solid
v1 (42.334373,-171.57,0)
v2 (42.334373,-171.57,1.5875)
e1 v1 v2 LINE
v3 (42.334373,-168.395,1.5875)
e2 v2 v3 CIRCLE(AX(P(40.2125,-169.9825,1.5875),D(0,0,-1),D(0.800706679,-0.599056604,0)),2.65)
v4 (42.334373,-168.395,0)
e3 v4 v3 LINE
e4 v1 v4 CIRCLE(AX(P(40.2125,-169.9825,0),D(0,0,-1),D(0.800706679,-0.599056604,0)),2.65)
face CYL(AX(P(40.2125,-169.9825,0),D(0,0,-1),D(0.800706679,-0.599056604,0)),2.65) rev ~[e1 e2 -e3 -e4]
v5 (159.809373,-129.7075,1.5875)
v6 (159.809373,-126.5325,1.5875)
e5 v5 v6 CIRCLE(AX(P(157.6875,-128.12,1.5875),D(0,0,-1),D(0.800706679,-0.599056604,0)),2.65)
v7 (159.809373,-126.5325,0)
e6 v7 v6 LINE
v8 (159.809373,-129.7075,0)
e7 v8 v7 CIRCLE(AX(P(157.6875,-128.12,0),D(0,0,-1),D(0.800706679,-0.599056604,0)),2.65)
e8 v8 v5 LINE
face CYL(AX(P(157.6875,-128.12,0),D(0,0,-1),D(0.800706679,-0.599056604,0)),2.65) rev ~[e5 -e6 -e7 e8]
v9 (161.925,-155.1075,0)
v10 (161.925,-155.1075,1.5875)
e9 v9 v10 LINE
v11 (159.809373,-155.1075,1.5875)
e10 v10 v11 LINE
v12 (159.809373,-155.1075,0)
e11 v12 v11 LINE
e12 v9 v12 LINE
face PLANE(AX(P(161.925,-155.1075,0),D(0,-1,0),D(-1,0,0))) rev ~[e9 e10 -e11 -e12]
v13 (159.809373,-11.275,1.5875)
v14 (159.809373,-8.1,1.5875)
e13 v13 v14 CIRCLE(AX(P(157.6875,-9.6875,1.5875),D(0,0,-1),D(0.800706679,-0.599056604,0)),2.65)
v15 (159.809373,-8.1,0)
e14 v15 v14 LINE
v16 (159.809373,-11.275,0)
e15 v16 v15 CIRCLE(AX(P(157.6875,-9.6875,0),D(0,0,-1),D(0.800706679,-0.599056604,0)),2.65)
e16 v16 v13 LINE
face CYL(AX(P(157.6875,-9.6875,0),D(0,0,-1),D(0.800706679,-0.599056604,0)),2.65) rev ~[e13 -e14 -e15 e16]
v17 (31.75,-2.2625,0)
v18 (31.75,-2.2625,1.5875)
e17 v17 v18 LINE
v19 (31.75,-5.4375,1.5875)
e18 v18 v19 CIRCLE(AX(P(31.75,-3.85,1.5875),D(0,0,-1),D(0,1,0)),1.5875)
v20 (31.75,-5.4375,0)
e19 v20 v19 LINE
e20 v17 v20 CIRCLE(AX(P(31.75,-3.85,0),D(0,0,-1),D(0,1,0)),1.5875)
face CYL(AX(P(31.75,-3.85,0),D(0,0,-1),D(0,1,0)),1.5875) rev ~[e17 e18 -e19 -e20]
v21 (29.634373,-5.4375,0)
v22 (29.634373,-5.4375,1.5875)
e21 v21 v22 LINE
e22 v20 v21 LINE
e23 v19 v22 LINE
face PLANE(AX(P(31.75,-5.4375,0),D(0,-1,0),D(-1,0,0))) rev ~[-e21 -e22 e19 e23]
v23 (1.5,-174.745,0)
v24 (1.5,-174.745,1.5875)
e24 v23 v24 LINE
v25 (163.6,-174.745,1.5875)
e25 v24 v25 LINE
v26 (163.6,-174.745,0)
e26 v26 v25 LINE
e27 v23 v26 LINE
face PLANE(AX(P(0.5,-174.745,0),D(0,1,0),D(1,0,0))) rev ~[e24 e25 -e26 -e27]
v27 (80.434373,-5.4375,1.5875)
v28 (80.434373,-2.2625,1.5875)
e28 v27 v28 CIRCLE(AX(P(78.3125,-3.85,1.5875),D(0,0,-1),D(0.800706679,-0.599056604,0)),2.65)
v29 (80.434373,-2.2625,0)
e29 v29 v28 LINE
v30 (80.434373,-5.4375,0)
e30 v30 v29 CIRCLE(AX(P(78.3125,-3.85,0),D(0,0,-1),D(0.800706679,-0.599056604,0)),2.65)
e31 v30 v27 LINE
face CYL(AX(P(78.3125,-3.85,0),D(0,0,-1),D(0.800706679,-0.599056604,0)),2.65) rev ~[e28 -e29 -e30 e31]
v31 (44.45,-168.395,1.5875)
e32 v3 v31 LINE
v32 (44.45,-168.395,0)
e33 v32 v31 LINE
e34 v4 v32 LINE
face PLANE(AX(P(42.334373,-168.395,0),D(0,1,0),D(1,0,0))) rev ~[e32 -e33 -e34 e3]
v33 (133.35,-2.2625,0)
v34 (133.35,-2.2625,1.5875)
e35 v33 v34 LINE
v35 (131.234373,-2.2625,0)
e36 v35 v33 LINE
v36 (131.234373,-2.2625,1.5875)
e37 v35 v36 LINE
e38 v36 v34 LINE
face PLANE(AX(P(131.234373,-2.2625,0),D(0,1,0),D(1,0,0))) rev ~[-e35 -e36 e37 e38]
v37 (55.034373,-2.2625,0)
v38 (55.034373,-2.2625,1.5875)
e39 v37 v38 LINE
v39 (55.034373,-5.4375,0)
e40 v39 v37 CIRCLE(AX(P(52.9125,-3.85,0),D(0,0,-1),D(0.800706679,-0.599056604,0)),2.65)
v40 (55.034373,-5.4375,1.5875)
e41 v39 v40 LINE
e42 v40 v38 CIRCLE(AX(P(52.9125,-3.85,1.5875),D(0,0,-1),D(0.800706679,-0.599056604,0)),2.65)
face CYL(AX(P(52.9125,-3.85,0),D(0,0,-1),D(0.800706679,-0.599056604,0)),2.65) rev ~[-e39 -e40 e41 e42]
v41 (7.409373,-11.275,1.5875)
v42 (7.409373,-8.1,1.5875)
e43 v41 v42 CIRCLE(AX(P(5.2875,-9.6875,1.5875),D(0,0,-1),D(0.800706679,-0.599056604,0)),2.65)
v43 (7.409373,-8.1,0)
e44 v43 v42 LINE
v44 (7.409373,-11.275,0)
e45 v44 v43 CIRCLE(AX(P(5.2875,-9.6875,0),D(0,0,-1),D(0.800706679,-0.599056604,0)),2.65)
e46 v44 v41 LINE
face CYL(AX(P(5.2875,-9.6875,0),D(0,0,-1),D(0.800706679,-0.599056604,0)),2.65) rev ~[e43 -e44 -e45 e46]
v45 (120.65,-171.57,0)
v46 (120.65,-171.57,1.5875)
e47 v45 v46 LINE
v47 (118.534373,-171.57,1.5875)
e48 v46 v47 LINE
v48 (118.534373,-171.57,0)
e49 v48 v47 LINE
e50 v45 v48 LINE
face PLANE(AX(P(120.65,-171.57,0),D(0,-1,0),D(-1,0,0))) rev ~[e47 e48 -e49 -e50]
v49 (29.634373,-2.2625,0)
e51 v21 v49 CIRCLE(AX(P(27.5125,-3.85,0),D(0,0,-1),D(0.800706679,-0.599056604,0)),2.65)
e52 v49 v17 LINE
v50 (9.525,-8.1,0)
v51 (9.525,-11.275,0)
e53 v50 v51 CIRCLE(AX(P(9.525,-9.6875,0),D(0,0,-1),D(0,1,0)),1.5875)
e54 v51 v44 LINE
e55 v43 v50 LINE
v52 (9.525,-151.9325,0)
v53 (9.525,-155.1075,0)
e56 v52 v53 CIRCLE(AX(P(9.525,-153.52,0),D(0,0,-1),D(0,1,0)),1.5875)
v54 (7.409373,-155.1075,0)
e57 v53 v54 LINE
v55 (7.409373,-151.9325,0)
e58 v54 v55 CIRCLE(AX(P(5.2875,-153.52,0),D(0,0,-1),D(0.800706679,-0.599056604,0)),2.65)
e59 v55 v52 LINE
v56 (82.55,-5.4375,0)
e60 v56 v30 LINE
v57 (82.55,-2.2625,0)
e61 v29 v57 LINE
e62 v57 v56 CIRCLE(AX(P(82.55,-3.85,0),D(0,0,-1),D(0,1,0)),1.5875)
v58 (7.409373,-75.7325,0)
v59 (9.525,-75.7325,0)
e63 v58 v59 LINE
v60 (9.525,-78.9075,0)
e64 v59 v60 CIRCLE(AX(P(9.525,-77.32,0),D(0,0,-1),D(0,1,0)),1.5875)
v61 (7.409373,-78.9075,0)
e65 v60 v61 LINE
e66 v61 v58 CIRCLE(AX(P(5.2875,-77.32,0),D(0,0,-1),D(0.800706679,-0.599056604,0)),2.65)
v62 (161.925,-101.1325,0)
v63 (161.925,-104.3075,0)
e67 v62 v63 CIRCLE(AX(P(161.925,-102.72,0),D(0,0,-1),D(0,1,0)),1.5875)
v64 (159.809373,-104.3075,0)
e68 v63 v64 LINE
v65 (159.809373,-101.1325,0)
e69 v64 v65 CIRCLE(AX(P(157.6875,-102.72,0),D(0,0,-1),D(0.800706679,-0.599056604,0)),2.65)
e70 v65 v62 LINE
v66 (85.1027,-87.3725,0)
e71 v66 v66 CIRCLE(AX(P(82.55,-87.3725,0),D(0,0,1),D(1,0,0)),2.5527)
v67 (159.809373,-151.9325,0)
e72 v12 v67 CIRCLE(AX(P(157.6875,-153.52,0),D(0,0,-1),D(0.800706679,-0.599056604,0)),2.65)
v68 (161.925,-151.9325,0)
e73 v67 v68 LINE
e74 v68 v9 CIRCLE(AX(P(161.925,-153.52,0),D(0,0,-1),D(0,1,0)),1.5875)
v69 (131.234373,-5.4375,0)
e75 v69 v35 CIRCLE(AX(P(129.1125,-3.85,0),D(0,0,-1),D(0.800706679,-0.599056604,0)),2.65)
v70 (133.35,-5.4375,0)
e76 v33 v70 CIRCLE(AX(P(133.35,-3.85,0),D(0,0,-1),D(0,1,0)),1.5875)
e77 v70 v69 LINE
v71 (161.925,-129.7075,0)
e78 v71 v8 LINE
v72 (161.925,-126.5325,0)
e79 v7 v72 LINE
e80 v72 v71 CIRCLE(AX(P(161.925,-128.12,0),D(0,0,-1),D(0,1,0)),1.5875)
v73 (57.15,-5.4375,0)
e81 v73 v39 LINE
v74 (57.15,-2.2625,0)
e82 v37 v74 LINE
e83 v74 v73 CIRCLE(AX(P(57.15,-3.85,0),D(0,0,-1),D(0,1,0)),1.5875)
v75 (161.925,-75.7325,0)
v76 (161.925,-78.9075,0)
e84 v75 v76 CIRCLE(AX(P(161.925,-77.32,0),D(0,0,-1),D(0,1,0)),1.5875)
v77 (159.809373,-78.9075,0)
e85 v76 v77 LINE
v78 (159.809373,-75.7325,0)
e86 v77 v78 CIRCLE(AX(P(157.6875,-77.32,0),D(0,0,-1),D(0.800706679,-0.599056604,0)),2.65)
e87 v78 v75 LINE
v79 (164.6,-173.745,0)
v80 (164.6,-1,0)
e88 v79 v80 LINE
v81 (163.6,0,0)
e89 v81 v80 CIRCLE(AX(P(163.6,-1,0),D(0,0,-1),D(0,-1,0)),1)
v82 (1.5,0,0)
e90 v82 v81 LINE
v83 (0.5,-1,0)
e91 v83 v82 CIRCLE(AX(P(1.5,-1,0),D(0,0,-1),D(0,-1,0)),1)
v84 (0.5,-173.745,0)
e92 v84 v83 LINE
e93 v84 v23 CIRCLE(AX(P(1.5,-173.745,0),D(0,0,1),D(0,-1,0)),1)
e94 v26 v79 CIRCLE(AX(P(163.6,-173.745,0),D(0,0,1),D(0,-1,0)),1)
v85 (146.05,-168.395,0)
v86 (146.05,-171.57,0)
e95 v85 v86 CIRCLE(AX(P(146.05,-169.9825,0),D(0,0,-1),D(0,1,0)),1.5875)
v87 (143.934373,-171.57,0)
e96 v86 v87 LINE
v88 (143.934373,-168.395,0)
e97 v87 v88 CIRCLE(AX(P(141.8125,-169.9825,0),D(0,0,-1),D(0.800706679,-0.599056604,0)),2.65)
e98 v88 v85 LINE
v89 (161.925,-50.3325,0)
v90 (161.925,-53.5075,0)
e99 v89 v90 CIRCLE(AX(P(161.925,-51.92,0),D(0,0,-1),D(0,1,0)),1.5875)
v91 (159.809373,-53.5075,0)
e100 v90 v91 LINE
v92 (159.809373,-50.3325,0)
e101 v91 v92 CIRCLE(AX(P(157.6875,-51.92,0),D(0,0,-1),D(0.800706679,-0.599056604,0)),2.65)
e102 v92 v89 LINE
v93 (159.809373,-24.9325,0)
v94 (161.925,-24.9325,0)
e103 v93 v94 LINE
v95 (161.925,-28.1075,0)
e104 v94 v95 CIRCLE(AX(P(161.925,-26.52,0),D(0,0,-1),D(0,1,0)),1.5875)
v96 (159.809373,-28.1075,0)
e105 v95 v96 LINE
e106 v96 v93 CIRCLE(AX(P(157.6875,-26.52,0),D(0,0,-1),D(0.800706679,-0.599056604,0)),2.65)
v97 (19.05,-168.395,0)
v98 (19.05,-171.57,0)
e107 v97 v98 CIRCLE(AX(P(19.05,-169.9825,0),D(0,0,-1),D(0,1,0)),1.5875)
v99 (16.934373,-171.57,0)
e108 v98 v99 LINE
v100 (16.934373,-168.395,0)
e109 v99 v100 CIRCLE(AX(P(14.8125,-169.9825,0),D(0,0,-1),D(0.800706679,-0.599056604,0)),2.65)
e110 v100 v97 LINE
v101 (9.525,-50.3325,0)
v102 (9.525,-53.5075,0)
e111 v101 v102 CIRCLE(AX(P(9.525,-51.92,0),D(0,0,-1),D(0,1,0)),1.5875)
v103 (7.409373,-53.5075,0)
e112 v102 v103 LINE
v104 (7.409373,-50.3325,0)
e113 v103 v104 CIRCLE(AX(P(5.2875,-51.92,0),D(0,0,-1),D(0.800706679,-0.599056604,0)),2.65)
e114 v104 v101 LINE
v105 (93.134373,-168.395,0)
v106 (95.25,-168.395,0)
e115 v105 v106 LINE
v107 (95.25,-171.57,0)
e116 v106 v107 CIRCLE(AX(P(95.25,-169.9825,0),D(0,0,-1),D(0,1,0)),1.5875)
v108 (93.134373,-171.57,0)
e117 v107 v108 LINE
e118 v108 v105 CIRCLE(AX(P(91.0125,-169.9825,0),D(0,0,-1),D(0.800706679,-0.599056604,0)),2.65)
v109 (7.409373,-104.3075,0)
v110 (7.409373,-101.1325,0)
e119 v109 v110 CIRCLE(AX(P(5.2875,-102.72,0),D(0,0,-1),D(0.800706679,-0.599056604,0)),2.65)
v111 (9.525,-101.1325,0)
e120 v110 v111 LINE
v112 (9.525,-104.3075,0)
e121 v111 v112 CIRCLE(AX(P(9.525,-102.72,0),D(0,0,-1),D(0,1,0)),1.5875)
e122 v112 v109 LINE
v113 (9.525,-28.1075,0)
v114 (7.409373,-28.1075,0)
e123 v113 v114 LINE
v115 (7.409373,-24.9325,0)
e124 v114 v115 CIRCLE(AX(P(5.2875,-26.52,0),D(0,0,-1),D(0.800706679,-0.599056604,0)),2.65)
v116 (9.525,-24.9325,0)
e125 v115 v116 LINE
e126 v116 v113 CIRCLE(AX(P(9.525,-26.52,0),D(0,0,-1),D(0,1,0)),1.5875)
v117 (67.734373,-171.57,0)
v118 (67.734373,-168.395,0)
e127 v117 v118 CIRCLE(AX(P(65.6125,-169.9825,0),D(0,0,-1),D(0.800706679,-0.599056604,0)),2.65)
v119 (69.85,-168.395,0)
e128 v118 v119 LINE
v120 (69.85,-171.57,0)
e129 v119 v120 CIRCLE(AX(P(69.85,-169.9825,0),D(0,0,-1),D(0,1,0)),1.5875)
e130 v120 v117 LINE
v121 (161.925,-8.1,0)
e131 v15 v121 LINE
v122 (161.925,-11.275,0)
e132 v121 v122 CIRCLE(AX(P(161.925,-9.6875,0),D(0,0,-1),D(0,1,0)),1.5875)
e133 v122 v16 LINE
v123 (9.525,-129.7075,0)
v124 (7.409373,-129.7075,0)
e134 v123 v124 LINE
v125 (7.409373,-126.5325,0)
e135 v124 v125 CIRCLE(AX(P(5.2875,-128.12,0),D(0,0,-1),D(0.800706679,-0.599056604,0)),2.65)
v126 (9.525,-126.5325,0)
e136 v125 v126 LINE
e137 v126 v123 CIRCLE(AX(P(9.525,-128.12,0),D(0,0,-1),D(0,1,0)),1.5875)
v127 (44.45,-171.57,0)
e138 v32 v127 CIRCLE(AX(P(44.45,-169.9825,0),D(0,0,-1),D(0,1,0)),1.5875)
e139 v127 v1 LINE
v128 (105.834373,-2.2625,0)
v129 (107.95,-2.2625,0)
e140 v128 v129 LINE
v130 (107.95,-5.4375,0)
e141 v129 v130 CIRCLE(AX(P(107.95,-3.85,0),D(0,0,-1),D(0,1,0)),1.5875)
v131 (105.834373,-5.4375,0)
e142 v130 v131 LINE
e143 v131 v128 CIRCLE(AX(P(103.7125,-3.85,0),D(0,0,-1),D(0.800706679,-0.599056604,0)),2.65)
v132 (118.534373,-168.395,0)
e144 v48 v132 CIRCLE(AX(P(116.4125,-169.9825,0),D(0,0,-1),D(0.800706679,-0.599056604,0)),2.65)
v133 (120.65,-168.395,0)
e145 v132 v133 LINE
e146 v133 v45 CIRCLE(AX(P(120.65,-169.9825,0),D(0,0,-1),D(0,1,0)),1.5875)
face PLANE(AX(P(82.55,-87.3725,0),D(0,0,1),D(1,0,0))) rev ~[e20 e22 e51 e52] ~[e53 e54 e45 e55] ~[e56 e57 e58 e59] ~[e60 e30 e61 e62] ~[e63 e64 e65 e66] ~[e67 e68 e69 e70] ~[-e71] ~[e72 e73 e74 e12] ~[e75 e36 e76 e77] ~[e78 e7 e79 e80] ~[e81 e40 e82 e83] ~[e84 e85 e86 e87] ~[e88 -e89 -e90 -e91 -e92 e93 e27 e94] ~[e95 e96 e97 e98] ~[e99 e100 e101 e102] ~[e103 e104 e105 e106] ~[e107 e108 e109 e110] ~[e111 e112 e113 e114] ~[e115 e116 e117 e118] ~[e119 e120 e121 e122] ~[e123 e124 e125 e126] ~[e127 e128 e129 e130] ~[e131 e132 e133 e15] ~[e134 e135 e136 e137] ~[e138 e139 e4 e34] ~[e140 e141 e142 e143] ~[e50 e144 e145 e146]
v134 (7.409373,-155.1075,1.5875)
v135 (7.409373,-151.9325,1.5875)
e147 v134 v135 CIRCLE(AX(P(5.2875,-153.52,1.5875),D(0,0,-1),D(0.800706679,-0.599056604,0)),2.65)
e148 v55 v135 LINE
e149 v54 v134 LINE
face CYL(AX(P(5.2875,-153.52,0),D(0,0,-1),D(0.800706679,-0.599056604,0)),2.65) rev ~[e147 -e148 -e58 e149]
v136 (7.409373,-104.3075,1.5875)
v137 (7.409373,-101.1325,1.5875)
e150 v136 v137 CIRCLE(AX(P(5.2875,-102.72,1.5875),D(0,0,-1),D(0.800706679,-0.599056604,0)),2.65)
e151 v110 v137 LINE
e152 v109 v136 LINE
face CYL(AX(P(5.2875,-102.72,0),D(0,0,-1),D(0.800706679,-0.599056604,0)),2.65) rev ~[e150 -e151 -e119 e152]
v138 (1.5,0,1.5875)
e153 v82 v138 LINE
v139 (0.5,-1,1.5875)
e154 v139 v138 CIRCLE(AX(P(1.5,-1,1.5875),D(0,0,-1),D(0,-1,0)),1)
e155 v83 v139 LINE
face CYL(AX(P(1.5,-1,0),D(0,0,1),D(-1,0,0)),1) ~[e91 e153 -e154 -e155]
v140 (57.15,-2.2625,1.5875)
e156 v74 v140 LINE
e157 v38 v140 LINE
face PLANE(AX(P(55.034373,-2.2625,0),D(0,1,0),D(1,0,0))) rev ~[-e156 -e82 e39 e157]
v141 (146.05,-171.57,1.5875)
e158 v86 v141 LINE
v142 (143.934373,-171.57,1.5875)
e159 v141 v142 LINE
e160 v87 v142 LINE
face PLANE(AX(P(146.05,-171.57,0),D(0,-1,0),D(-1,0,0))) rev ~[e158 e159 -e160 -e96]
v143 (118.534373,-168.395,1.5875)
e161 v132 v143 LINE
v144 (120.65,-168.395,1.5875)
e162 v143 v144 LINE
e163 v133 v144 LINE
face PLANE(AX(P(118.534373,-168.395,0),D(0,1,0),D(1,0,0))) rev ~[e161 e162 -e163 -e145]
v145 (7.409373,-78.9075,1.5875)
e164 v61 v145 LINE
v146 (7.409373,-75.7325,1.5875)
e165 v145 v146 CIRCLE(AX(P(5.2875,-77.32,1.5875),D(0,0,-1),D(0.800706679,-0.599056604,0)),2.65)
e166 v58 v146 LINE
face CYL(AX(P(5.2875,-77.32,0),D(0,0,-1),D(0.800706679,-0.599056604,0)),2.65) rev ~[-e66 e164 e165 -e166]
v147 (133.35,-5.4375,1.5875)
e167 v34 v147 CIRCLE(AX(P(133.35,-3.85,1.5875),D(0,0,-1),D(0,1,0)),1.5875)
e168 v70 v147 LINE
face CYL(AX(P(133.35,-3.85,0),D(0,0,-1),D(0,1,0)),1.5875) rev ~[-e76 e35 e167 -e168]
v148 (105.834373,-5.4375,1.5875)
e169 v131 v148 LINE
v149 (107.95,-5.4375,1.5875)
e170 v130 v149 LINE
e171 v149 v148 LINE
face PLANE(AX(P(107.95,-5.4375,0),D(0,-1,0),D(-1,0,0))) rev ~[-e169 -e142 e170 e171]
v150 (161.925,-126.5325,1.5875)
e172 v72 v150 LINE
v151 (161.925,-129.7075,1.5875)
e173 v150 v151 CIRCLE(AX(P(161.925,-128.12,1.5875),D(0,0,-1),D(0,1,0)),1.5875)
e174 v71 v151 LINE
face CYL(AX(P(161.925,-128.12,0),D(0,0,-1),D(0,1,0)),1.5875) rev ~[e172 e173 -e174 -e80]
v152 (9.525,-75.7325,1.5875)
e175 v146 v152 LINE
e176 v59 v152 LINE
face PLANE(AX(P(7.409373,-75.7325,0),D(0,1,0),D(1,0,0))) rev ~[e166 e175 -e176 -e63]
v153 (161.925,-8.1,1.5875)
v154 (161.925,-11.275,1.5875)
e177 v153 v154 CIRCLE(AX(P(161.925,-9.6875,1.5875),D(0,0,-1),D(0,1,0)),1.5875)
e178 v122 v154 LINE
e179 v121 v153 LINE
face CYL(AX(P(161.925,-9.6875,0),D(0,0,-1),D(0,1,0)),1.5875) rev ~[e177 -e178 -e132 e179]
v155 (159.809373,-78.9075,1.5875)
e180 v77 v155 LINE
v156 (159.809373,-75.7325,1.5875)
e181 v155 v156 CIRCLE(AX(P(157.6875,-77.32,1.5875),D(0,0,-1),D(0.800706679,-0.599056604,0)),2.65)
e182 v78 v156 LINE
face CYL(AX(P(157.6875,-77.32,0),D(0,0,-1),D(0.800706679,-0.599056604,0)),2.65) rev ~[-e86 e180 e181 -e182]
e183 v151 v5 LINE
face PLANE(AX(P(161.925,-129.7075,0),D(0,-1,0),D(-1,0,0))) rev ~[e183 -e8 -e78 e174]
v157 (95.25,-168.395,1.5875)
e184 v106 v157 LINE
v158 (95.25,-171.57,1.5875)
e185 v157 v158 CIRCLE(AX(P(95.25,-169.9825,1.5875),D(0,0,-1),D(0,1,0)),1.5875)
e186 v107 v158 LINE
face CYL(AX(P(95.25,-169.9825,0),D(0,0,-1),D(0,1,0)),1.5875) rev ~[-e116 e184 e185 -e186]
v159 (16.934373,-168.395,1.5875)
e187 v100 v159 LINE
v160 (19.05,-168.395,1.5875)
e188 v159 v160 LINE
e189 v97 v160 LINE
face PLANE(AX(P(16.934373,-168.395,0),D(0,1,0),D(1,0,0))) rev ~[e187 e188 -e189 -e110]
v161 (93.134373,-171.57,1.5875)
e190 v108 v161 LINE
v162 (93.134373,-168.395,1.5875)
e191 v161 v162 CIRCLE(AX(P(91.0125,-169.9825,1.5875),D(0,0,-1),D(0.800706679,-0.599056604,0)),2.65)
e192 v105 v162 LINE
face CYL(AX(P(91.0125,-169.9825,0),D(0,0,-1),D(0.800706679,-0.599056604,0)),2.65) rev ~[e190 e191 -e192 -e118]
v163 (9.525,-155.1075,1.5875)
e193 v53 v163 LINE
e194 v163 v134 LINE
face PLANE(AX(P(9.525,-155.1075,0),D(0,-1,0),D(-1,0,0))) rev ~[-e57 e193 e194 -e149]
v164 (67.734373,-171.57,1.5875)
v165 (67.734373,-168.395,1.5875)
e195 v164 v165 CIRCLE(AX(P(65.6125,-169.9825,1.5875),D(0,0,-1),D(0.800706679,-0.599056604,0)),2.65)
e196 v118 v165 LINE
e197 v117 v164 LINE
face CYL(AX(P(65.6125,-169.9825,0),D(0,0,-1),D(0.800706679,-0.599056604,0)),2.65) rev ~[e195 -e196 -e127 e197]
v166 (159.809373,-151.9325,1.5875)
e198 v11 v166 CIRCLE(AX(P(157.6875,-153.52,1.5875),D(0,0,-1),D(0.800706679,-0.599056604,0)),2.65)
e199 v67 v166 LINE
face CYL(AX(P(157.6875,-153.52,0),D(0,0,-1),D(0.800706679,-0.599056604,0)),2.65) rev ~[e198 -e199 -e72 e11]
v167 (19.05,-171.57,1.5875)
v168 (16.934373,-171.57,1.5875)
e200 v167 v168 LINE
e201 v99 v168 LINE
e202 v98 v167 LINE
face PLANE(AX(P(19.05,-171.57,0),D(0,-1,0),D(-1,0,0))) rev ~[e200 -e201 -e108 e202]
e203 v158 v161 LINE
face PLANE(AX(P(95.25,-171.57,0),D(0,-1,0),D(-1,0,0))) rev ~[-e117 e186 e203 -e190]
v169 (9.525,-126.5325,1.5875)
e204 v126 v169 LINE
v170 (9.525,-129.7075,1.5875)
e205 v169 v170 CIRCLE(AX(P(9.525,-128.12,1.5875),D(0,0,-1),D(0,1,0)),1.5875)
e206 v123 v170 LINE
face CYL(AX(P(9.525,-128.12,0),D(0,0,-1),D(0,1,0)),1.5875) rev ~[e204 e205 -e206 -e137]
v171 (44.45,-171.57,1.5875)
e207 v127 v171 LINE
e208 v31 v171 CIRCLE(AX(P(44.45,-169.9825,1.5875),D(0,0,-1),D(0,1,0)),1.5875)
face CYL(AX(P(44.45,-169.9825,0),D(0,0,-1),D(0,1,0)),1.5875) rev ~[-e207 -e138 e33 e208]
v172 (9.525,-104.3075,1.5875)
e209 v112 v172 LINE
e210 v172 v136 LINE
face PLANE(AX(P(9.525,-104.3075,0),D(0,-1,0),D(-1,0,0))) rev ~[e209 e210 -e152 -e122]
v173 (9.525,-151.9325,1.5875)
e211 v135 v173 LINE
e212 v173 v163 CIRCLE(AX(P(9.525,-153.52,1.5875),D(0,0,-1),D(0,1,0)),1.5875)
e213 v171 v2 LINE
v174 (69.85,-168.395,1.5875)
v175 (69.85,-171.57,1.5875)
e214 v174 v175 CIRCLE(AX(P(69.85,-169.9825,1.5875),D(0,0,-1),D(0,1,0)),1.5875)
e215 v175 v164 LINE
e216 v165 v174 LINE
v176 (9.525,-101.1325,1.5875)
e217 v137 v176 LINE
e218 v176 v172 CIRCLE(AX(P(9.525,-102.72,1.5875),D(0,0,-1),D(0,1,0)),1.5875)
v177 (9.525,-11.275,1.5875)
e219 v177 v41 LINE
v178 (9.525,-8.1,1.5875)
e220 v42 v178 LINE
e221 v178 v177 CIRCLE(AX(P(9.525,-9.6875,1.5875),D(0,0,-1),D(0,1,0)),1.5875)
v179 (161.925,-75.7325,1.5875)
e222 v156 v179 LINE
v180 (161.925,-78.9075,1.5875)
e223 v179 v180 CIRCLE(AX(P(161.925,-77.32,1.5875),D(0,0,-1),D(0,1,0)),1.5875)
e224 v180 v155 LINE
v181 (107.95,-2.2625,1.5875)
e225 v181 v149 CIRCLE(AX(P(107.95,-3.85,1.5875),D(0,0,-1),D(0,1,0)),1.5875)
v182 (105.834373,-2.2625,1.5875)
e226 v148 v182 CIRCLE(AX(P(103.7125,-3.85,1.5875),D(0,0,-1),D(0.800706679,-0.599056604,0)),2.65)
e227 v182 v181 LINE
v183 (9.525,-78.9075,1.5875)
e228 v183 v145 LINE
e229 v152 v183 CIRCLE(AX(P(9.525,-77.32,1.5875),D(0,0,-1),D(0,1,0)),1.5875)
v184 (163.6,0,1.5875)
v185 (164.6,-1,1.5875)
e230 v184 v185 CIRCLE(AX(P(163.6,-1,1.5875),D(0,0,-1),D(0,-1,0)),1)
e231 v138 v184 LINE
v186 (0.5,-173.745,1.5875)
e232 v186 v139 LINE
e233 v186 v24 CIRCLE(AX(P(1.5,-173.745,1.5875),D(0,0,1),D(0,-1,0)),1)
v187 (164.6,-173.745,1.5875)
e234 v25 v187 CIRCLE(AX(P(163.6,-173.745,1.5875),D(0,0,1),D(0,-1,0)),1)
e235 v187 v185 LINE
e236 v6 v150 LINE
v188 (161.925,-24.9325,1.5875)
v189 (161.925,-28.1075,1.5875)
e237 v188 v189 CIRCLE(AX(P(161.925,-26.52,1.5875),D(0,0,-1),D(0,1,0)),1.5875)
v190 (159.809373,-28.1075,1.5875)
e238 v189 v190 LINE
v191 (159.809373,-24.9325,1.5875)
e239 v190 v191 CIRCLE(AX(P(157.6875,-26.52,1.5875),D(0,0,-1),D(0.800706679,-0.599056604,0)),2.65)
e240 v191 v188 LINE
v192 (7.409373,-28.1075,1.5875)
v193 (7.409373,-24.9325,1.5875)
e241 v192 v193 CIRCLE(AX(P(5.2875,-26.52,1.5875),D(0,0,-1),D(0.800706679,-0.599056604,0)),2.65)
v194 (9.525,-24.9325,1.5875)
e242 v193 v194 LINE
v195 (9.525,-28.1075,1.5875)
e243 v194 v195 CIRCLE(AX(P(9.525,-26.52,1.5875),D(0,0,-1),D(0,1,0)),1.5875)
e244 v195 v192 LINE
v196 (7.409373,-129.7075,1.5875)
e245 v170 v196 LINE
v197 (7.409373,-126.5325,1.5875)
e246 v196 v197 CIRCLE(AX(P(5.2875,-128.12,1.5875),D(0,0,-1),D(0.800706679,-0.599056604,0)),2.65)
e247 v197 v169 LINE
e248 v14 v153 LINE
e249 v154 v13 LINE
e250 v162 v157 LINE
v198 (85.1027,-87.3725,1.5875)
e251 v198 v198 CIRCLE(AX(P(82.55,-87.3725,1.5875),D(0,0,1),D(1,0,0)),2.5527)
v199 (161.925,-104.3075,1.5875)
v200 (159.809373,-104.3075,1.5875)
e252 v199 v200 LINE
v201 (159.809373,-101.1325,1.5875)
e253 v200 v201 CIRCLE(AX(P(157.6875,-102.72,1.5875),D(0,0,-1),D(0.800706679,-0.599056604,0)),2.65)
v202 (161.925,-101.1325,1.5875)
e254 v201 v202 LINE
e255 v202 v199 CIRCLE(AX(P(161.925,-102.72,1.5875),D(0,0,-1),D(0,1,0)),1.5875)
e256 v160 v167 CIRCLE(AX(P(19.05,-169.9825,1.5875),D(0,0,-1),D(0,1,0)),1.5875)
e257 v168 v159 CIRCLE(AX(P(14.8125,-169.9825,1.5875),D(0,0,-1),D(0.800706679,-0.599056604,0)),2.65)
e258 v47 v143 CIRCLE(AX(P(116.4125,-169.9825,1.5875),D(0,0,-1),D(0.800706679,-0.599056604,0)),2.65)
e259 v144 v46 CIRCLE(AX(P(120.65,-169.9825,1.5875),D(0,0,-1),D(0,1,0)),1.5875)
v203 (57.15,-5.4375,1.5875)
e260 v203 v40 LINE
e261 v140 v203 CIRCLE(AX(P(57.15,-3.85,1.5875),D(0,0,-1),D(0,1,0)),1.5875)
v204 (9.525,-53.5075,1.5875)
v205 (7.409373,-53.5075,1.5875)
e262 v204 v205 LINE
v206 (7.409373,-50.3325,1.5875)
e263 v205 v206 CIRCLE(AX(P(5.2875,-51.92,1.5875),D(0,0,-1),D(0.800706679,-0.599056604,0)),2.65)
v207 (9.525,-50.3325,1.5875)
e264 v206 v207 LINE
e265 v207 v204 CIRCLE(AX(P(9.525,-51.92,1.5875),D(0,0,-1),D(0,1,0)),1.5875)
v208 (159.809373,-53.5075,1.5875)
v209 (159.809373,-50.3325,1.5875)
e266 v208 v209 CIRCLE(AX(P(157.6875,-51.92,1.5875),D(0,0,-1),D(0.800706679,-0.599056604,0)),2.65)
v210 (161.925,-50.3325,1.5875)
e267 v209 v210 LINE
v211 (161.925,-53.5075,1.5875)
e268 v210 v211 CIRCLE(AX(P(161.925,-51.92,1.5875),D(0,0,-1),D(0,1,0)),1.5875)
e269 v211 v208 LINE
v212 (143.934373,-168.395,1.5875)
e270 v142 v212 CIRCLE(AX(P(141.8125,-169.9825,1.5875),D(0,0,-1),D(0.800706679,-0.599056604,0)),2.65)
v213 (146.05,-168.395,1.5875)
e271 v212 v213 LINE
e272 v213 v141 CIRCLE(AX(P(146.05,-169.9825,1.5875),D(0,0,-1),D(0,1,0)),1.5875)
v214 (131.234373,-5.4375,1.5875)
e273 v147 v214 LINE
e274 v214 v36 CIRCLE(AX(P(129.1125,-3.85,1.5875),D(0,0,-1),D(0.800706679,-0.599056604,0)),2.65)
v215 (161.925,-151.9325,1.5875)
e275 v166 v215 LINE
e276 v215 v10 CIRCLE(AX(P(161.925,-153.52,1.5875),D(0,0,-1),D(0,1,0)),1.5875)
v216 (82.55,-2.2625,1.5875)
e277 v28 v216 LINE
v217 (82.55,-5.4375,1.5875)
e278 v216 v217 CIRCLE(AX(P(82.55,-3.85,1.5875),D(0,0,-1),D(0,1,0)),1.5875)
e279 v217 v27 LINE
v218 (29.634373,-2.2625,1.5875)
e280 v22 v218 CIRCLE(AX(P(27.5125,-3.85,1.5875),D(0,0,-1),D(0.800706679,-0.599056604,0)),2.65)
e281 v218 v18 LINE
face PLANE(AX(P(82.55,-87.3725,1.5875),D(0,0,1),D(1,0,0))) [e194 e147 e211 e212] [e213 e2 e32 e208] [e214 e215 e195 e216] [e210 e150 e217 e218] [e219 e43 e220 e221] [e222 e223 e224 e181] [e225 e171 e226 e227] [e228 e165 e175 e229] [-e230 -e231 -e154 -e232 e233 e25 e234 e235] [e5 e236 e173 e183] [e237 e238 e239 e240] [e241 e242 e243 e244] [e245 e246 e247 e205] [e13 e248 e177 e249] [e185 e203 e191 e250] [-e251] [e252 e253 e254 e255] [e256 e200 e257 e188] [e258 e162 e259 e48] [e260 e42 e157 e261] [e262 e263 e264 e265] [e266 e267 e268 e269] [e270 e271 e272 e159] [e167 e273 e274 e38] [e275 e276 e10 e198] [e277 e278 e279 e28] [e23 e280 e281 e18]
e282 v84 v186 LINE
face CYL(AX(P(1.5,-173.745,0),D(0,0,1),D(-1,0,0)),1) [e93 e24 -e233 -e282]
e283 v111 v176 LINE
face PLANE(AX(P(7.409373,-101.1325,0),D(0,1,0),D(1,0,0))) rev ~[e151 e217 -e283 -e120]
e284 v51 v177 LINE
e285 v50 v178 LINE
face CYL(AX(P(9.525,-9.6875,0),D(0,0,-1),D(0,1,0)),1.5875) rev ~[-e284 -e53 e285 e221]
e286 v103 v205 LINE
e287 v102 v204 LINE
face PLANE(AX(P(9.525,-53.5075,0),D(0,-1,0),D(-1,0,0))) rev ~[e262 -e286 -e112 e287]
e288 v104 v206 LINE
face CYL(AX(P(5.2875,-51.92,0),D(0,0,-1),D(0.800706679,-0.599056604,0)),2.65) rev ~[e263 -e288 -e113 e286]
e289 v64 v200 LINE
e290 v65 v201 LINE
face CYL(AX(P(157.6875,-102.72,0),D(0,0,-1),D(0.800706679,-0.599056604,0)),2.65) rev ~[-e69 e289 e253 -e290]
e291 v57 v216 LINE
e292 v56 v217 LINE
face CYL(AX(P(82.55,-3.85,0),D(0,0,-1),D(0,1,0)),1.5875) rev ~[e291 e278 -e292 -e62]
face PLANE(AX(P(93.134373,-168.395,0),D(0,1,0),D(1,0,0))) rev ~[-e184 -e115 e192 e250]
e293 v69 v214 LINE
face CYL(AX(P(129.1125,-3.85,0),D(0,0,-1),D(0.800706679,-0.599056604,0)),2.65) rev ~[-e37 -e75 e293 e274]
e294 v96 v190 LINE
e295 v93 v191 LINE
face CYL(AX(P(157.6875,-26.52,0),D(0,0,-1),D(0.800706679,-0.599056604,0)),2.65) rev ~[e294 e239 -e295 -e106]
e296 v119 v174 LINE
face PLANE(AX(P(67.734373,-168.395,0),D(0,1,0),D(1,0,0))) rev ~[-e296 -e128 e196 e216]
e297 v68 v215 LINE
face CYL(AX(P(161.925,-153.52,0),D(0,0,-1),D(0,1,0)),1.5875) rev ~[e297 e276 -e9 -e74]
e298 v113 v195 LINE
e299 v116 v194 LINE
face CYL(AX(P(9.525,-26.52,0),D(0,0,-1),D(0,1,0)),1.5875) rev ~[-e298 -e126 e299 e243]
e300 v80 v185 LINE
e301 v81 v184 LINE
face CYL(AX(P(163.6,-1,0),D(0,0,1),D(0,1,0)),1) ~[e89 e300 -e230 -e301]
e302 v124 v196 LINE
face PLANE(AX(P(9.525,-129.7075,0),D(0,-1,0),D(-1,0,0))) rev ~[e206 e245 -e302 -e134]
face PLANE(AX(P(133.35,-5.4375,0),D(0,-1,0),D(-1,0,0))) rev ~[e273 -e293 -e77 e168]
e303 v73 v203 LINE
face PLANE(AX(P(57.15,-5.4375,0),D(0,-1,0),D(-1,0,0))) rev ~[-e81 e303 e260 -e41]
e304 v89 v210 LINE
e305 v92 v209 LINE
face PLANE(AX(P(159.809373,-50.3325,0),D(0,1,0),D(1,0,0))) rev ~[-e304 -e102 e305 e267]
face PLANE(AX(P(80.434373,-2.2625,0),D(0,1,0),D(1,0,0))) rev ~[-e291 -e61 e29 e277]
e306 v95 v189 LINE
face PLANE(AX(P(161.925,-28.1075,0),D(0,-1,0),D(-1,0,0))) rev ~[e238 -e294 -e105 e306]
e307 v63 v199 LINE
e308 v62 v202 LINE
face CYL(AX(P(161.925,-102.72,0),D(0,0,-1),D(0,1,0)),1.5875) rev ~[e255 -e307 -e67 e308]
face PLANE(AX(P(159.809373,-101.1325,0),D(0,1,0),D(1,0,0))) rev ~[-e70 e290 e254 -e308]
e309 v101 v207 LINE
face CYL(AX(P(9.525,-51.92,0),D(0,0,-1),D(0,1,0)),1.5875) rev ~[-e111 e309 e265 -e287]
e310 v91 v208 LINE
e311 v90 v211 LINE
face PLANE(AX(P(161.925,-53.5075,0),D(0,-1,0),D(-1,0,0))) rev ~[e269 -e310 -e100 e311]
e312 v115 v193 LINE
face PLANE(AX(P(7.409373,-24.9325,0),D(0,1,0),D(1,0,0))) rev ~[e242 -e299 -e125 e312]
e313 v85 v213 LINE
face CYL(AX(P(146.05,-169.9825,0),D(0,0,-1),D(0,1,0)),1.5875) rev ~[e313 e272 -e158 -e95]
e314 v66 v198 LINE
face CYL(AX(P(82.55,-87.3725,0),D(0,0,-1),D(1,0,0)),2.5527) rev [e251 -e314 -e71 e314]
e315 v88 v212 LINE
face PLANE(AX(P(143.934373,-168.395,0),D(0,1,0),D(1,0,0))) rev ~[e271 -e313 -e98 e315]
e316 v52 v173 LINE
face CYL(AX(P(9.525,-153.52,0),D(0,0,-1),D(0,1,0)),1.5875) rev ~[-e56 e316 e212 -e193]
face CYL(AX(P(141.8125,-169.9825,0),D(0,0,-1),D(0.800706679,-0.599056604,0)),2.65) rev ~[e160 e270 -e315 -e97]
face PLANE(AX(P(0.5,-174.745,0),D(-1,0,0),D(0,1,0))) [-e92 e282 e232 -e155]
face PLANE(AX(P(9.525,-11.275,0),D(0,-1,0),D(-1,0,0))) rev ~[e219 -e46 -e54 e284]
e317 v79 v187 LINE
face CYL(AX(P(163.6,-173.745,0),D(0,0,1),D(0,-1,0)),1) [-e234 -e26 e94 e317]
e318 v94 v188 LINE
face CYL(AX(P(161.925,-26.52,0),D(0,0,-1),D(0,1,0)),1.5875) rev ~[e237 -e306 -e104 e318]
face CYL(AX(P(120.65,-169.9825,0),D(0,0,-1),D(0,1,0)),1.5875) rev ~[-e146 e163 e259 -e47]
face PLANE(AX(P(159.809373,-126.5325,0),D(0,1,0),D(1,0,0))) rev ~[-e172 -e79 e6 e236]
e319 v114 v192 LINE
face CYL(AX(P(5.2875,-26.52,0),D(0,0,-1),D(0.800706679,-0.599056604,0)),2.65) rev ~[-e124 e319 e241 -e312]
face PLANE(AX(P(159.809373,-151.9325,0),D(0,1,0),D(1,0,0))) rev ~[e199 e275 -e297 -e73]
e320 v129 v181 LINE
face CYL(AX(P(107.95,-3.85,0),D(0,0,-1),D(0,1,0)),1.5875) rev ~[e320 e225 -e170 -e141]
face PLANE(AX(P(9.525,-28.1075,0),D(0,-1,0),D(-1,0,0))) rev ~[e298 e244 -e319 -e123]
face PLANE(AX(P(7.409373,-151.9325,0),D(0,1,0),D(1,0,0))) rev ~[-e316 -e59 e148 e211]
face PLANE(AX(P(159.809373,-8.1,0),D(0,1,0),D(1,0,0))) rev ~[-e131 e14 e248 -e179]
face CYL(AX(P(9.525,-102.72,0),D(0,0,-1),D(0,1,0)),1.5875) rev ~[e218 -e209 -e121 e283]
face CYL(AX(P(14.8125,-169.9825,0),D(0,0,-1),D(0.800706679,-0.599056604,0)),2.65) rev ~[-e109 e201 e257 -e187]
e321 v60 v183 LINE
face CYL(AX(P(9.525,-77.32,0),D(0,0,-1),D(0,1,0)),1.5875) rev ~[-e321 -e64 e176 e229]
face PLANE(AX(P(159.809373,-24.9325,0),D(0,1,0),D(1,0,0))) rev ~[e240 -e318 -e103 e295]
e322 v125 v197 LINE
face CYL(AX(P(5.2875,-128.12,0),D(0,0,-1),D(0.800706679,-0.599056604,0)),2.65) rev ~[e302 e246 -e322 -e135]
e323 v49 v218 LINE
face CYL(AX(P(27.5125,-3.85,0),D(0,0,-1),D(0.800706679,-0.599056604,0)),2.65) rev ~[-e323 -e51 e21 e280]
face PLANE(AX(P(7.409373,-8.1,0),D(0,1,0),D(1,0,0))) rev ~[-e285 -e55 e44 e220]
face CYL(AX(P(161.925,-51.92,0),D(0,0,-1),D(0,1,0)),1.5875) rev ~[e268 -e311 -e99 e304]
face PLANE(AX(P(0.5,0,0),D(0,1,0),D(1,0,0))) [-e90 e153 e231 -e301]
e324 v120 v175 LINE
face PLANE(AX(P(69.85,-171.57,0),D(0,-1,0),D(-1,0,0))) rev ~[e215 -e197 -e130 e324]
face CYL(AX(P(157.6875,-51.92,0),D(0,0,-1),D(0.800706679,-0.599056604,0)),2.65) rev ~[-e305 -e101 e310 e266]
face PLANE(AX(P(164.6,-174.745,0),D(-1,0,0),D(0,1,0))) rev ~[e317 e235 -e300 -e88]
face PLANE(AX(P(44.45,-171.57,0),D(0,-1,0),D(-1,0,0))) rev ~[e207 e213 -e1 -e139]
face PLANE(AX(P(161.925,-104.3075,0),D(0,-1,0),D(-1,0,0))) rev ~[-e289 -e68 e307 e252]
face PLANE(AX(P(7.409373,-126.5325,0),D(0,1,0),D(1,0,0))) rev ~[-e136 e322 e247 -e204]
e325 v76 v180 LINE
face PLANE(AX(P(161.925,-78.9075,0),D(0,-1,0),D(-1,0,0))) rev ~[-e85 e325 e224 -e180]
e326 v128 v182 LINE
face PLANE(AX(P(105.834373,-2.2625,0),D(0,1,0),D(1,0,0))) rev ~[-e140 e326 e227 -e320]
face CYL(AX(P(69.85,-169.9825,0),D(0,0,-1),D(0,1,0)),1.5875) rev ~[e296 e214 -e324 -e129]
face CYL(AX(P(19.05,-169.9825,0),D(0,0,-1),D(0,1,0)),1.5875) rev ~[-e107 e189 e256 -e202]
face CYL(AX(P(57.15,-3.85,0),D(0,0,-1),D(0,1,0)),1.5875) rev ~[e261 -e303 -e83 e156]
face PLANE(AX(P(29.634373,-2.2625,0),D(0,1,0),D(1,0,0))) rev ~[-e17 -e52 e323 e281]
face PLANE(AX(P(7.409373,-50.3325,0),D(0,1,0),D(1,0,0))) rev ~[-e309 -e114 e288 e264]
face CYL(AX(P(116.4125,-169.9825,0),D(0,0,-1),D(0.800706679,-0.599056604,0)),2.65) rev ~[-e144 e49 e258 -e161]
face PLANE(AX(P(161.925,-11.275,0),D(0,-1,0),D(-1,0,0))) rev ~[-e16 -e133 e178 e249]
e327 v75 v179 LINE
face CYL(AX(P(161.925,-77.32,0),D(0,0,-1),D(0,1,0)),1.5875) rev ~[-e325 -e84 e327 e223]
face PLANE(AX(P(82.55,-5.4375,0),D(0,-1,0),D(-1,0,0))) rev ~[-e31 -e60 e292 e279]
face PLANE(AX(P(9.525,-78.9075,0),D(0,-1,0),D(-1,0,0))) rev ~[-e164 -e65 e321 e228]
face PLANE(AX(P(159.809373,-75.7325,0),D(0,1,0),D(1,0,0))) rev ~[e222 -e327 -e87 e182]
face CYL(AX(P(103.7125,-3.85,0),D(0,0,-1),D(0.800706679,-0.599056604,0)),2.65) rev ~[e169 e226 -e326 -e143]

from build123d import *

# Parameters (mm, degrees)
SKETCH1_W           = 164.1
SKETCH1_H           = 174.745
SKETCH1_R           = 2.5527
BOSS_EXTRUDE1_DEPTH = 1.5875
FILLET1_R           = 1


with BuildPart() as part:
    # Sketch1 → Boss-Extrude1 (new body)
    with BuildSketch(Plane.XY):
        with Locations((82.55, -87.3725)):
            Rectangle(SKETCH1_W, SKETCH1_H)
        with Locations((82.55, -87.3725)):
            Circle(SKETCH1_R, mode=Mode.SUBTRACT)
        with BuildLine():
            Line((82.55, -5.4375), (80.434372699, -5.4375))
            ThreePointArc((80.434372699, -5.4375), (75.6625, -3.85), (80.434372699, -2.2625))
            Line((80.434372699, -2.2625), (82.55, -2.2625))
            ThreePointArc((82.55, -2.2625), (84.1375, -3.85), (82.55, -5.4375))
        make_face(mode=Mode.SUBTRACT)
        with BuildLine():
            Line((16.934372699, -168.395), (19.05, -168.395))
            ThreePointArc((19.05, -168.395), (20.6375, -169.9825), (19.05, -171.57))
            Line((19.05, -171.57), (16.934372699, -171.57))
            ThreePointArc((16.934372699, -171.57), (12.1625, -169.9825), (16.934372699, -168.395))
        make_face(mode=Mode.SUBTRACT)
        with BuildLine():
            Line((7.409372699, -151.9325), (9.525, -151.9325))
            ThreePointArc((9.525, -151.9325), (11.1125, -153.52), (9.525, -155.1075))
            Line((9.525, -155.1075), (7.409372699, -155.1075))
            ThreePointArc((7.409372699, -155.1075), (2.6375, -153.52), (7.409372699, -151.9325))
        make_face(mode=Mode.SUBTRACT)
        with BuildLine():
            Line((42.334372699, -168.395), (44.45, -168.395))
            ThreePointArc((44.45, -168.395), (46.0375, -169.9825), (44.45, -171.57))
            Line((44.45, -171.57), (42.334372699, -171.57))
            ThreePointArc((42.334372699, -171.57), (37.5625, -169.9825), (42.334372699, -168.395))
        make_face(mode=Mode.SUBTRACT)
        with BuildLine():
            Line((67.734372699, -168.395), (69.85, -168.395))
            ThreePointArc((69.85, -168.395), (71.4375, -169.9825), (69.85, -171.57))
            Line((69.85, -171.57), (67.734372699, -171.57))
            ThreePointArc((67.734372699, -171.57), (62.9625, -169.9825), (67.734372699, -168.395))
        make_face(mode=Mode.SUBTRACT)
        with BuildLine():
            Line((7.409372699, -126.5325), (9.525, -126.5325))
            ThreePointArc((9.525, -126.5325), (11.1125, -128.12), (9.525, -129.7075))
            Line((9.525, -129.7075), (7.409372699, -129.7075))
            ThreePointArc((7.409372699, -129.7075), (2.6375, -128.12), (7.409372699, -126.5325))
        make_face(mode=Mode.SUBTRACT)
        with BuildLine():
            Line((7.409372699, -101.1325), (9.525, -101.1325))
            ThreePointArc((9.525, -101.1325), (11.1125, -102.72), (9.525, -104.3075))
            Line((9.525, -104.3075), (7.409372699, -104.3075))
            ThreePointArc((7.409372699, -104.3075), (2.6375, -102.72), (7.409372699, -101.1325))
        make_face(mode=Mode.SUBTRACT)
        with BuildLine():
            Line((7.409372699, -75.7325), (9.525, -75.7325))
            ThreePointArc((9.525, -75.7325), (11.1125, -77.32), (9.525, -78.9075))
            Line((9.525, -78.9075), (7.409372699, -78.9075))
            ThreePointArc((7.409372699, -78.9075), (2.6375, -77.32), (7.409372699, -75.7325))
        make_face(mode=Mode.SUBTRACT)
        with BuildLine():
            Line((7.409372699, -50.3325), (9.525, -50.3325))
            ThreePointArc((9.525, -50.3325), (11.1125, -51.92), (9.525, -53.5075))
            Line((9.525, -53.5075), (7.409372699, -53.5075))
            ThreePointArc((7.409372699, -53.5075), (2.6375, -51.92), (7.409372699, -50.3325))
        make_face(mode=Mode.SUBTRACT)
        with BuildLine():
            Line((7.409372699, -24.9325), (9.525, -24.9325))
            ThreePointArc((9.525, -24.9325), (11.1125, -26.52), (9.525, -28.1075))
            Line((9.525, -28.1075), (7.409372699, -28.1075))
            ThreePointArc((7.409372699, -28.1075), (2.6375, -26.52), (7.409372699, -24.9325))
        make_face(mode=Mode.SUBTRACT)
        with BuildLine():
            Line((7.409372699, -8.1), (9.525, -8.1))
            ThreePointArc((9.525, -8.1), (11.1125, -9.6875), (9.525, -11.275))
            Line((9.525, -11.275), (7.409372699, -11.275))
            ThreePointArc((7.409372699, -11.275), (2.6375, -9.6875), (7.409372699, -8.1))
        make_face(mode=Mode.SUBTRACT)
        with BuildLine():
            Line((29.634372699, -2.2625), (31.75, -2.2625))
            ThreePointArc((31.75, -2.2625), (33.3375, -3.85), (31.75, -5.4375))
            Line((31.75, -5.4375), (29.634372699, -5.4375))
            ThreePointArc((29.634372699, -5.4375), (24.8625, -3.85), (29.634372699, -2.2625))
        make_face(mode=Mode.SUBTRACT)
        with BuildLine():
            Line((55.034372699, -2.2625), (57.15, -2.2625))
            ThreePointArc((57.15, -2.2625), (58.7375, -3.85), (57.15, -5.4375))
            Line((57.15, -5.4375), (55.034372699, -5.4375))
            ThreePointArc((55.034372699, -5.4375), (50.2625, -3.85), (55.034372699, -2.2625))
        make_face(mode=Mode.SUBTRACT)
        with BuildLine():
            ThreePointArc((161.925, -8.1), (163.5125, -9.6875), (161.925, -11.275))
            Line((161.925, -11.275), (159.809372699, -11.275))
            ThreePointArc((159.809372699, -11.275), (155.0375, -9.6875), (159.809372699, -8.1))
            Line((159.809372699, -8.1), (161.925, -8.1))
        make_face(mode=Mode.SUBTRACT)
        with BuildLine():
            Line((93.134372699, -168.395), (95.25, -168.395))
            ThreePointArc((95.25, -168.395), (96.8375, -169.9825), (95.25, -171.57))
            Line((95.25, -171.57), (93.134372699, -171.57))
            ThreePointArc((93.134372699, -171.57), (88.3625, -169.9825), (93.134372699, -168.395))
        make_face(mode=Mode.SUBTRACT)
        with BuildLine():
            Line((118.534372699, -168.395), (120.65, -168.395))
            ThreePointArc((120.65, -168.395), (122.2375, -169.9825), (120.65, -171.57))
            Line((120.65, -171.57), (118.534372699, -171.57))
            ThreePointArc((118.534372699, -171.57), (113.7625, -169.9825), (118.534372699, -168.395))
        make_face(mode=Mode.SUBTRACT)
        with BuildLine():
            Line((143.934372699, -168.395), (146.05, -168.395))
            ThreePointArc((146.05, -168.395), (147.6375, -169.9825), (146.05, -171.57))
            Line((146.05, -171.57), (143.934372699, -171.57))
            ThreePointArc((143.934372699, -171.57), (139.1625, -169.9825), (143.934372699, -168.395))
        make_face(mode=Mode.SUBTRACT)
        with BuildLine():
            Line((159.809372699, -151.9325), (161.925, -151.9325))
            ThreePointArc((161.925, -151.9325), (163.5125, -153.52), (161.925, -155.1075))
            Line((161.925, -155.1075), (159.809372699, -155.1075))
            ThreePointArc((159.809372699, -155.1075), (155.0375, -153.52), (159.809372699, -151.9325))
        make_face(mode=Mode.SUBTRACT)
        with BuildLine():
            Line((159.809372699, -126.5325), (161.925, -126.5325))
            ThreePointArc((161.925, -126.5325), (163.5125, -128.12), (161.925, -129.7075))
            Line((161.925, -129.7075), (159.809372699, -129.7075))
            ThreePointArc((159.809372699, -129.7075), (155.0375, -128.12), (159.809372699, -126.5325))
        make_face(mode=Mode.SUBTRACT)
        with BuildLine():
            Line((159.809372699, -101.1325), (161.925, -101.1325))
            ThreePointArc((161.925, -101.1325), (163.5125, -102.72), (161.925, -104.3075))
            Line((161.925, -104.3075), (159.809372699, -104.3075))
            ThreePointArc((159.809372699, -104.3075), (155.0375, -102.72), (159.809372699, -101.1325))
        make_face(mode=Mode.SUBTRACT)
        with BuildLine():
            Line((159.809372699, -75.7325), (161.925, -75.7325))
            ThreePointArc((161.925, -75.7325), (163.5125, -77.32), (161.925, -78.9075))
            Line((161.925, -78.9075), (159.809372699, -78.9075))
            ThreePointArc((159.809372699, -78.9075), (155.0375, -77.32), (159.809372699, -75.7325))
        make_face(mode=Mode.SUBTRACT)
        with BuildLine():
            Line((159.809372699, -50.3325), (161.925, -50.3325))
            ThreePointArc((161.925, -50.3325), (163.5125, -51.92), (161.925, -53.5075))
            Line((161.925, -53.5075), (159.809372699, -53.5075))
            ThreePointArc((159.809372699, -53.5075), (155.0375, -51.92), (159.809372699, -50.3325))
        make_face(mode=Mode.SUBTRACT)
        with BuildLine():
            Line((105.834372699, -2.2625), (107.95, -2.2625))
            ThreePointArc((107.95, -2.2625), (109.5375, -3.85), (107.95, -5.4375))
            Line((107.95, -5.4375), (105.834372699, -5.4375))
            ThreePointArc((105.834372699, -5.4375), (101.0625, -3.85), (105.834372699, -2.2625))
        make_face(mode=Mode.SUBTRACT)
        with BuildLine():
            Line((159.809372699, -24.9325), (161.925, -24.9325))
            ThreePointArc((161.925, -24.9325), (163.5125, -26.52), (161.925, -28.1075))
            Line((161.925, -28.1075), (159.809372699, -28.1075))
            ThreePointArc((159.809372699, -28.1075), (155.0375, -26.52), (159.809372699, -24.9325))
        make_face(mode=Mode.SUBTRACT)
        with BuildLine():
            Line((131.234372699, -2.2625), (133.35, -2.2625))
            ThreePointArc((133.35, -2.2625), (134.9375, -3.85), (133.35, -5.4375))
            Line((133.35, -5.4375), (131.234372699, -5.4375))
            ThreePointArc((131.234372699, -5.4375), (126.4625, -3.85), (131.234372699, -2.2625))
        make_face(mode=Mode.SUBTRACT)
    extrude(amount=BOSS_EXTRUDE1_DEPTH)

    # Fillet1
    fillet1_edges = [part.edges().sort_by_distance(p)[0] for p in [
        (0.5, -174.745, 0.79375),
        (0.5, 0, 0.79375),
        (164.6, 0, 0.79375),
        (164.6, -174.745, 0.79375),
    ]]
    fillet(fillet1_edges, radius=FILLET1_R)


solid = part.part
